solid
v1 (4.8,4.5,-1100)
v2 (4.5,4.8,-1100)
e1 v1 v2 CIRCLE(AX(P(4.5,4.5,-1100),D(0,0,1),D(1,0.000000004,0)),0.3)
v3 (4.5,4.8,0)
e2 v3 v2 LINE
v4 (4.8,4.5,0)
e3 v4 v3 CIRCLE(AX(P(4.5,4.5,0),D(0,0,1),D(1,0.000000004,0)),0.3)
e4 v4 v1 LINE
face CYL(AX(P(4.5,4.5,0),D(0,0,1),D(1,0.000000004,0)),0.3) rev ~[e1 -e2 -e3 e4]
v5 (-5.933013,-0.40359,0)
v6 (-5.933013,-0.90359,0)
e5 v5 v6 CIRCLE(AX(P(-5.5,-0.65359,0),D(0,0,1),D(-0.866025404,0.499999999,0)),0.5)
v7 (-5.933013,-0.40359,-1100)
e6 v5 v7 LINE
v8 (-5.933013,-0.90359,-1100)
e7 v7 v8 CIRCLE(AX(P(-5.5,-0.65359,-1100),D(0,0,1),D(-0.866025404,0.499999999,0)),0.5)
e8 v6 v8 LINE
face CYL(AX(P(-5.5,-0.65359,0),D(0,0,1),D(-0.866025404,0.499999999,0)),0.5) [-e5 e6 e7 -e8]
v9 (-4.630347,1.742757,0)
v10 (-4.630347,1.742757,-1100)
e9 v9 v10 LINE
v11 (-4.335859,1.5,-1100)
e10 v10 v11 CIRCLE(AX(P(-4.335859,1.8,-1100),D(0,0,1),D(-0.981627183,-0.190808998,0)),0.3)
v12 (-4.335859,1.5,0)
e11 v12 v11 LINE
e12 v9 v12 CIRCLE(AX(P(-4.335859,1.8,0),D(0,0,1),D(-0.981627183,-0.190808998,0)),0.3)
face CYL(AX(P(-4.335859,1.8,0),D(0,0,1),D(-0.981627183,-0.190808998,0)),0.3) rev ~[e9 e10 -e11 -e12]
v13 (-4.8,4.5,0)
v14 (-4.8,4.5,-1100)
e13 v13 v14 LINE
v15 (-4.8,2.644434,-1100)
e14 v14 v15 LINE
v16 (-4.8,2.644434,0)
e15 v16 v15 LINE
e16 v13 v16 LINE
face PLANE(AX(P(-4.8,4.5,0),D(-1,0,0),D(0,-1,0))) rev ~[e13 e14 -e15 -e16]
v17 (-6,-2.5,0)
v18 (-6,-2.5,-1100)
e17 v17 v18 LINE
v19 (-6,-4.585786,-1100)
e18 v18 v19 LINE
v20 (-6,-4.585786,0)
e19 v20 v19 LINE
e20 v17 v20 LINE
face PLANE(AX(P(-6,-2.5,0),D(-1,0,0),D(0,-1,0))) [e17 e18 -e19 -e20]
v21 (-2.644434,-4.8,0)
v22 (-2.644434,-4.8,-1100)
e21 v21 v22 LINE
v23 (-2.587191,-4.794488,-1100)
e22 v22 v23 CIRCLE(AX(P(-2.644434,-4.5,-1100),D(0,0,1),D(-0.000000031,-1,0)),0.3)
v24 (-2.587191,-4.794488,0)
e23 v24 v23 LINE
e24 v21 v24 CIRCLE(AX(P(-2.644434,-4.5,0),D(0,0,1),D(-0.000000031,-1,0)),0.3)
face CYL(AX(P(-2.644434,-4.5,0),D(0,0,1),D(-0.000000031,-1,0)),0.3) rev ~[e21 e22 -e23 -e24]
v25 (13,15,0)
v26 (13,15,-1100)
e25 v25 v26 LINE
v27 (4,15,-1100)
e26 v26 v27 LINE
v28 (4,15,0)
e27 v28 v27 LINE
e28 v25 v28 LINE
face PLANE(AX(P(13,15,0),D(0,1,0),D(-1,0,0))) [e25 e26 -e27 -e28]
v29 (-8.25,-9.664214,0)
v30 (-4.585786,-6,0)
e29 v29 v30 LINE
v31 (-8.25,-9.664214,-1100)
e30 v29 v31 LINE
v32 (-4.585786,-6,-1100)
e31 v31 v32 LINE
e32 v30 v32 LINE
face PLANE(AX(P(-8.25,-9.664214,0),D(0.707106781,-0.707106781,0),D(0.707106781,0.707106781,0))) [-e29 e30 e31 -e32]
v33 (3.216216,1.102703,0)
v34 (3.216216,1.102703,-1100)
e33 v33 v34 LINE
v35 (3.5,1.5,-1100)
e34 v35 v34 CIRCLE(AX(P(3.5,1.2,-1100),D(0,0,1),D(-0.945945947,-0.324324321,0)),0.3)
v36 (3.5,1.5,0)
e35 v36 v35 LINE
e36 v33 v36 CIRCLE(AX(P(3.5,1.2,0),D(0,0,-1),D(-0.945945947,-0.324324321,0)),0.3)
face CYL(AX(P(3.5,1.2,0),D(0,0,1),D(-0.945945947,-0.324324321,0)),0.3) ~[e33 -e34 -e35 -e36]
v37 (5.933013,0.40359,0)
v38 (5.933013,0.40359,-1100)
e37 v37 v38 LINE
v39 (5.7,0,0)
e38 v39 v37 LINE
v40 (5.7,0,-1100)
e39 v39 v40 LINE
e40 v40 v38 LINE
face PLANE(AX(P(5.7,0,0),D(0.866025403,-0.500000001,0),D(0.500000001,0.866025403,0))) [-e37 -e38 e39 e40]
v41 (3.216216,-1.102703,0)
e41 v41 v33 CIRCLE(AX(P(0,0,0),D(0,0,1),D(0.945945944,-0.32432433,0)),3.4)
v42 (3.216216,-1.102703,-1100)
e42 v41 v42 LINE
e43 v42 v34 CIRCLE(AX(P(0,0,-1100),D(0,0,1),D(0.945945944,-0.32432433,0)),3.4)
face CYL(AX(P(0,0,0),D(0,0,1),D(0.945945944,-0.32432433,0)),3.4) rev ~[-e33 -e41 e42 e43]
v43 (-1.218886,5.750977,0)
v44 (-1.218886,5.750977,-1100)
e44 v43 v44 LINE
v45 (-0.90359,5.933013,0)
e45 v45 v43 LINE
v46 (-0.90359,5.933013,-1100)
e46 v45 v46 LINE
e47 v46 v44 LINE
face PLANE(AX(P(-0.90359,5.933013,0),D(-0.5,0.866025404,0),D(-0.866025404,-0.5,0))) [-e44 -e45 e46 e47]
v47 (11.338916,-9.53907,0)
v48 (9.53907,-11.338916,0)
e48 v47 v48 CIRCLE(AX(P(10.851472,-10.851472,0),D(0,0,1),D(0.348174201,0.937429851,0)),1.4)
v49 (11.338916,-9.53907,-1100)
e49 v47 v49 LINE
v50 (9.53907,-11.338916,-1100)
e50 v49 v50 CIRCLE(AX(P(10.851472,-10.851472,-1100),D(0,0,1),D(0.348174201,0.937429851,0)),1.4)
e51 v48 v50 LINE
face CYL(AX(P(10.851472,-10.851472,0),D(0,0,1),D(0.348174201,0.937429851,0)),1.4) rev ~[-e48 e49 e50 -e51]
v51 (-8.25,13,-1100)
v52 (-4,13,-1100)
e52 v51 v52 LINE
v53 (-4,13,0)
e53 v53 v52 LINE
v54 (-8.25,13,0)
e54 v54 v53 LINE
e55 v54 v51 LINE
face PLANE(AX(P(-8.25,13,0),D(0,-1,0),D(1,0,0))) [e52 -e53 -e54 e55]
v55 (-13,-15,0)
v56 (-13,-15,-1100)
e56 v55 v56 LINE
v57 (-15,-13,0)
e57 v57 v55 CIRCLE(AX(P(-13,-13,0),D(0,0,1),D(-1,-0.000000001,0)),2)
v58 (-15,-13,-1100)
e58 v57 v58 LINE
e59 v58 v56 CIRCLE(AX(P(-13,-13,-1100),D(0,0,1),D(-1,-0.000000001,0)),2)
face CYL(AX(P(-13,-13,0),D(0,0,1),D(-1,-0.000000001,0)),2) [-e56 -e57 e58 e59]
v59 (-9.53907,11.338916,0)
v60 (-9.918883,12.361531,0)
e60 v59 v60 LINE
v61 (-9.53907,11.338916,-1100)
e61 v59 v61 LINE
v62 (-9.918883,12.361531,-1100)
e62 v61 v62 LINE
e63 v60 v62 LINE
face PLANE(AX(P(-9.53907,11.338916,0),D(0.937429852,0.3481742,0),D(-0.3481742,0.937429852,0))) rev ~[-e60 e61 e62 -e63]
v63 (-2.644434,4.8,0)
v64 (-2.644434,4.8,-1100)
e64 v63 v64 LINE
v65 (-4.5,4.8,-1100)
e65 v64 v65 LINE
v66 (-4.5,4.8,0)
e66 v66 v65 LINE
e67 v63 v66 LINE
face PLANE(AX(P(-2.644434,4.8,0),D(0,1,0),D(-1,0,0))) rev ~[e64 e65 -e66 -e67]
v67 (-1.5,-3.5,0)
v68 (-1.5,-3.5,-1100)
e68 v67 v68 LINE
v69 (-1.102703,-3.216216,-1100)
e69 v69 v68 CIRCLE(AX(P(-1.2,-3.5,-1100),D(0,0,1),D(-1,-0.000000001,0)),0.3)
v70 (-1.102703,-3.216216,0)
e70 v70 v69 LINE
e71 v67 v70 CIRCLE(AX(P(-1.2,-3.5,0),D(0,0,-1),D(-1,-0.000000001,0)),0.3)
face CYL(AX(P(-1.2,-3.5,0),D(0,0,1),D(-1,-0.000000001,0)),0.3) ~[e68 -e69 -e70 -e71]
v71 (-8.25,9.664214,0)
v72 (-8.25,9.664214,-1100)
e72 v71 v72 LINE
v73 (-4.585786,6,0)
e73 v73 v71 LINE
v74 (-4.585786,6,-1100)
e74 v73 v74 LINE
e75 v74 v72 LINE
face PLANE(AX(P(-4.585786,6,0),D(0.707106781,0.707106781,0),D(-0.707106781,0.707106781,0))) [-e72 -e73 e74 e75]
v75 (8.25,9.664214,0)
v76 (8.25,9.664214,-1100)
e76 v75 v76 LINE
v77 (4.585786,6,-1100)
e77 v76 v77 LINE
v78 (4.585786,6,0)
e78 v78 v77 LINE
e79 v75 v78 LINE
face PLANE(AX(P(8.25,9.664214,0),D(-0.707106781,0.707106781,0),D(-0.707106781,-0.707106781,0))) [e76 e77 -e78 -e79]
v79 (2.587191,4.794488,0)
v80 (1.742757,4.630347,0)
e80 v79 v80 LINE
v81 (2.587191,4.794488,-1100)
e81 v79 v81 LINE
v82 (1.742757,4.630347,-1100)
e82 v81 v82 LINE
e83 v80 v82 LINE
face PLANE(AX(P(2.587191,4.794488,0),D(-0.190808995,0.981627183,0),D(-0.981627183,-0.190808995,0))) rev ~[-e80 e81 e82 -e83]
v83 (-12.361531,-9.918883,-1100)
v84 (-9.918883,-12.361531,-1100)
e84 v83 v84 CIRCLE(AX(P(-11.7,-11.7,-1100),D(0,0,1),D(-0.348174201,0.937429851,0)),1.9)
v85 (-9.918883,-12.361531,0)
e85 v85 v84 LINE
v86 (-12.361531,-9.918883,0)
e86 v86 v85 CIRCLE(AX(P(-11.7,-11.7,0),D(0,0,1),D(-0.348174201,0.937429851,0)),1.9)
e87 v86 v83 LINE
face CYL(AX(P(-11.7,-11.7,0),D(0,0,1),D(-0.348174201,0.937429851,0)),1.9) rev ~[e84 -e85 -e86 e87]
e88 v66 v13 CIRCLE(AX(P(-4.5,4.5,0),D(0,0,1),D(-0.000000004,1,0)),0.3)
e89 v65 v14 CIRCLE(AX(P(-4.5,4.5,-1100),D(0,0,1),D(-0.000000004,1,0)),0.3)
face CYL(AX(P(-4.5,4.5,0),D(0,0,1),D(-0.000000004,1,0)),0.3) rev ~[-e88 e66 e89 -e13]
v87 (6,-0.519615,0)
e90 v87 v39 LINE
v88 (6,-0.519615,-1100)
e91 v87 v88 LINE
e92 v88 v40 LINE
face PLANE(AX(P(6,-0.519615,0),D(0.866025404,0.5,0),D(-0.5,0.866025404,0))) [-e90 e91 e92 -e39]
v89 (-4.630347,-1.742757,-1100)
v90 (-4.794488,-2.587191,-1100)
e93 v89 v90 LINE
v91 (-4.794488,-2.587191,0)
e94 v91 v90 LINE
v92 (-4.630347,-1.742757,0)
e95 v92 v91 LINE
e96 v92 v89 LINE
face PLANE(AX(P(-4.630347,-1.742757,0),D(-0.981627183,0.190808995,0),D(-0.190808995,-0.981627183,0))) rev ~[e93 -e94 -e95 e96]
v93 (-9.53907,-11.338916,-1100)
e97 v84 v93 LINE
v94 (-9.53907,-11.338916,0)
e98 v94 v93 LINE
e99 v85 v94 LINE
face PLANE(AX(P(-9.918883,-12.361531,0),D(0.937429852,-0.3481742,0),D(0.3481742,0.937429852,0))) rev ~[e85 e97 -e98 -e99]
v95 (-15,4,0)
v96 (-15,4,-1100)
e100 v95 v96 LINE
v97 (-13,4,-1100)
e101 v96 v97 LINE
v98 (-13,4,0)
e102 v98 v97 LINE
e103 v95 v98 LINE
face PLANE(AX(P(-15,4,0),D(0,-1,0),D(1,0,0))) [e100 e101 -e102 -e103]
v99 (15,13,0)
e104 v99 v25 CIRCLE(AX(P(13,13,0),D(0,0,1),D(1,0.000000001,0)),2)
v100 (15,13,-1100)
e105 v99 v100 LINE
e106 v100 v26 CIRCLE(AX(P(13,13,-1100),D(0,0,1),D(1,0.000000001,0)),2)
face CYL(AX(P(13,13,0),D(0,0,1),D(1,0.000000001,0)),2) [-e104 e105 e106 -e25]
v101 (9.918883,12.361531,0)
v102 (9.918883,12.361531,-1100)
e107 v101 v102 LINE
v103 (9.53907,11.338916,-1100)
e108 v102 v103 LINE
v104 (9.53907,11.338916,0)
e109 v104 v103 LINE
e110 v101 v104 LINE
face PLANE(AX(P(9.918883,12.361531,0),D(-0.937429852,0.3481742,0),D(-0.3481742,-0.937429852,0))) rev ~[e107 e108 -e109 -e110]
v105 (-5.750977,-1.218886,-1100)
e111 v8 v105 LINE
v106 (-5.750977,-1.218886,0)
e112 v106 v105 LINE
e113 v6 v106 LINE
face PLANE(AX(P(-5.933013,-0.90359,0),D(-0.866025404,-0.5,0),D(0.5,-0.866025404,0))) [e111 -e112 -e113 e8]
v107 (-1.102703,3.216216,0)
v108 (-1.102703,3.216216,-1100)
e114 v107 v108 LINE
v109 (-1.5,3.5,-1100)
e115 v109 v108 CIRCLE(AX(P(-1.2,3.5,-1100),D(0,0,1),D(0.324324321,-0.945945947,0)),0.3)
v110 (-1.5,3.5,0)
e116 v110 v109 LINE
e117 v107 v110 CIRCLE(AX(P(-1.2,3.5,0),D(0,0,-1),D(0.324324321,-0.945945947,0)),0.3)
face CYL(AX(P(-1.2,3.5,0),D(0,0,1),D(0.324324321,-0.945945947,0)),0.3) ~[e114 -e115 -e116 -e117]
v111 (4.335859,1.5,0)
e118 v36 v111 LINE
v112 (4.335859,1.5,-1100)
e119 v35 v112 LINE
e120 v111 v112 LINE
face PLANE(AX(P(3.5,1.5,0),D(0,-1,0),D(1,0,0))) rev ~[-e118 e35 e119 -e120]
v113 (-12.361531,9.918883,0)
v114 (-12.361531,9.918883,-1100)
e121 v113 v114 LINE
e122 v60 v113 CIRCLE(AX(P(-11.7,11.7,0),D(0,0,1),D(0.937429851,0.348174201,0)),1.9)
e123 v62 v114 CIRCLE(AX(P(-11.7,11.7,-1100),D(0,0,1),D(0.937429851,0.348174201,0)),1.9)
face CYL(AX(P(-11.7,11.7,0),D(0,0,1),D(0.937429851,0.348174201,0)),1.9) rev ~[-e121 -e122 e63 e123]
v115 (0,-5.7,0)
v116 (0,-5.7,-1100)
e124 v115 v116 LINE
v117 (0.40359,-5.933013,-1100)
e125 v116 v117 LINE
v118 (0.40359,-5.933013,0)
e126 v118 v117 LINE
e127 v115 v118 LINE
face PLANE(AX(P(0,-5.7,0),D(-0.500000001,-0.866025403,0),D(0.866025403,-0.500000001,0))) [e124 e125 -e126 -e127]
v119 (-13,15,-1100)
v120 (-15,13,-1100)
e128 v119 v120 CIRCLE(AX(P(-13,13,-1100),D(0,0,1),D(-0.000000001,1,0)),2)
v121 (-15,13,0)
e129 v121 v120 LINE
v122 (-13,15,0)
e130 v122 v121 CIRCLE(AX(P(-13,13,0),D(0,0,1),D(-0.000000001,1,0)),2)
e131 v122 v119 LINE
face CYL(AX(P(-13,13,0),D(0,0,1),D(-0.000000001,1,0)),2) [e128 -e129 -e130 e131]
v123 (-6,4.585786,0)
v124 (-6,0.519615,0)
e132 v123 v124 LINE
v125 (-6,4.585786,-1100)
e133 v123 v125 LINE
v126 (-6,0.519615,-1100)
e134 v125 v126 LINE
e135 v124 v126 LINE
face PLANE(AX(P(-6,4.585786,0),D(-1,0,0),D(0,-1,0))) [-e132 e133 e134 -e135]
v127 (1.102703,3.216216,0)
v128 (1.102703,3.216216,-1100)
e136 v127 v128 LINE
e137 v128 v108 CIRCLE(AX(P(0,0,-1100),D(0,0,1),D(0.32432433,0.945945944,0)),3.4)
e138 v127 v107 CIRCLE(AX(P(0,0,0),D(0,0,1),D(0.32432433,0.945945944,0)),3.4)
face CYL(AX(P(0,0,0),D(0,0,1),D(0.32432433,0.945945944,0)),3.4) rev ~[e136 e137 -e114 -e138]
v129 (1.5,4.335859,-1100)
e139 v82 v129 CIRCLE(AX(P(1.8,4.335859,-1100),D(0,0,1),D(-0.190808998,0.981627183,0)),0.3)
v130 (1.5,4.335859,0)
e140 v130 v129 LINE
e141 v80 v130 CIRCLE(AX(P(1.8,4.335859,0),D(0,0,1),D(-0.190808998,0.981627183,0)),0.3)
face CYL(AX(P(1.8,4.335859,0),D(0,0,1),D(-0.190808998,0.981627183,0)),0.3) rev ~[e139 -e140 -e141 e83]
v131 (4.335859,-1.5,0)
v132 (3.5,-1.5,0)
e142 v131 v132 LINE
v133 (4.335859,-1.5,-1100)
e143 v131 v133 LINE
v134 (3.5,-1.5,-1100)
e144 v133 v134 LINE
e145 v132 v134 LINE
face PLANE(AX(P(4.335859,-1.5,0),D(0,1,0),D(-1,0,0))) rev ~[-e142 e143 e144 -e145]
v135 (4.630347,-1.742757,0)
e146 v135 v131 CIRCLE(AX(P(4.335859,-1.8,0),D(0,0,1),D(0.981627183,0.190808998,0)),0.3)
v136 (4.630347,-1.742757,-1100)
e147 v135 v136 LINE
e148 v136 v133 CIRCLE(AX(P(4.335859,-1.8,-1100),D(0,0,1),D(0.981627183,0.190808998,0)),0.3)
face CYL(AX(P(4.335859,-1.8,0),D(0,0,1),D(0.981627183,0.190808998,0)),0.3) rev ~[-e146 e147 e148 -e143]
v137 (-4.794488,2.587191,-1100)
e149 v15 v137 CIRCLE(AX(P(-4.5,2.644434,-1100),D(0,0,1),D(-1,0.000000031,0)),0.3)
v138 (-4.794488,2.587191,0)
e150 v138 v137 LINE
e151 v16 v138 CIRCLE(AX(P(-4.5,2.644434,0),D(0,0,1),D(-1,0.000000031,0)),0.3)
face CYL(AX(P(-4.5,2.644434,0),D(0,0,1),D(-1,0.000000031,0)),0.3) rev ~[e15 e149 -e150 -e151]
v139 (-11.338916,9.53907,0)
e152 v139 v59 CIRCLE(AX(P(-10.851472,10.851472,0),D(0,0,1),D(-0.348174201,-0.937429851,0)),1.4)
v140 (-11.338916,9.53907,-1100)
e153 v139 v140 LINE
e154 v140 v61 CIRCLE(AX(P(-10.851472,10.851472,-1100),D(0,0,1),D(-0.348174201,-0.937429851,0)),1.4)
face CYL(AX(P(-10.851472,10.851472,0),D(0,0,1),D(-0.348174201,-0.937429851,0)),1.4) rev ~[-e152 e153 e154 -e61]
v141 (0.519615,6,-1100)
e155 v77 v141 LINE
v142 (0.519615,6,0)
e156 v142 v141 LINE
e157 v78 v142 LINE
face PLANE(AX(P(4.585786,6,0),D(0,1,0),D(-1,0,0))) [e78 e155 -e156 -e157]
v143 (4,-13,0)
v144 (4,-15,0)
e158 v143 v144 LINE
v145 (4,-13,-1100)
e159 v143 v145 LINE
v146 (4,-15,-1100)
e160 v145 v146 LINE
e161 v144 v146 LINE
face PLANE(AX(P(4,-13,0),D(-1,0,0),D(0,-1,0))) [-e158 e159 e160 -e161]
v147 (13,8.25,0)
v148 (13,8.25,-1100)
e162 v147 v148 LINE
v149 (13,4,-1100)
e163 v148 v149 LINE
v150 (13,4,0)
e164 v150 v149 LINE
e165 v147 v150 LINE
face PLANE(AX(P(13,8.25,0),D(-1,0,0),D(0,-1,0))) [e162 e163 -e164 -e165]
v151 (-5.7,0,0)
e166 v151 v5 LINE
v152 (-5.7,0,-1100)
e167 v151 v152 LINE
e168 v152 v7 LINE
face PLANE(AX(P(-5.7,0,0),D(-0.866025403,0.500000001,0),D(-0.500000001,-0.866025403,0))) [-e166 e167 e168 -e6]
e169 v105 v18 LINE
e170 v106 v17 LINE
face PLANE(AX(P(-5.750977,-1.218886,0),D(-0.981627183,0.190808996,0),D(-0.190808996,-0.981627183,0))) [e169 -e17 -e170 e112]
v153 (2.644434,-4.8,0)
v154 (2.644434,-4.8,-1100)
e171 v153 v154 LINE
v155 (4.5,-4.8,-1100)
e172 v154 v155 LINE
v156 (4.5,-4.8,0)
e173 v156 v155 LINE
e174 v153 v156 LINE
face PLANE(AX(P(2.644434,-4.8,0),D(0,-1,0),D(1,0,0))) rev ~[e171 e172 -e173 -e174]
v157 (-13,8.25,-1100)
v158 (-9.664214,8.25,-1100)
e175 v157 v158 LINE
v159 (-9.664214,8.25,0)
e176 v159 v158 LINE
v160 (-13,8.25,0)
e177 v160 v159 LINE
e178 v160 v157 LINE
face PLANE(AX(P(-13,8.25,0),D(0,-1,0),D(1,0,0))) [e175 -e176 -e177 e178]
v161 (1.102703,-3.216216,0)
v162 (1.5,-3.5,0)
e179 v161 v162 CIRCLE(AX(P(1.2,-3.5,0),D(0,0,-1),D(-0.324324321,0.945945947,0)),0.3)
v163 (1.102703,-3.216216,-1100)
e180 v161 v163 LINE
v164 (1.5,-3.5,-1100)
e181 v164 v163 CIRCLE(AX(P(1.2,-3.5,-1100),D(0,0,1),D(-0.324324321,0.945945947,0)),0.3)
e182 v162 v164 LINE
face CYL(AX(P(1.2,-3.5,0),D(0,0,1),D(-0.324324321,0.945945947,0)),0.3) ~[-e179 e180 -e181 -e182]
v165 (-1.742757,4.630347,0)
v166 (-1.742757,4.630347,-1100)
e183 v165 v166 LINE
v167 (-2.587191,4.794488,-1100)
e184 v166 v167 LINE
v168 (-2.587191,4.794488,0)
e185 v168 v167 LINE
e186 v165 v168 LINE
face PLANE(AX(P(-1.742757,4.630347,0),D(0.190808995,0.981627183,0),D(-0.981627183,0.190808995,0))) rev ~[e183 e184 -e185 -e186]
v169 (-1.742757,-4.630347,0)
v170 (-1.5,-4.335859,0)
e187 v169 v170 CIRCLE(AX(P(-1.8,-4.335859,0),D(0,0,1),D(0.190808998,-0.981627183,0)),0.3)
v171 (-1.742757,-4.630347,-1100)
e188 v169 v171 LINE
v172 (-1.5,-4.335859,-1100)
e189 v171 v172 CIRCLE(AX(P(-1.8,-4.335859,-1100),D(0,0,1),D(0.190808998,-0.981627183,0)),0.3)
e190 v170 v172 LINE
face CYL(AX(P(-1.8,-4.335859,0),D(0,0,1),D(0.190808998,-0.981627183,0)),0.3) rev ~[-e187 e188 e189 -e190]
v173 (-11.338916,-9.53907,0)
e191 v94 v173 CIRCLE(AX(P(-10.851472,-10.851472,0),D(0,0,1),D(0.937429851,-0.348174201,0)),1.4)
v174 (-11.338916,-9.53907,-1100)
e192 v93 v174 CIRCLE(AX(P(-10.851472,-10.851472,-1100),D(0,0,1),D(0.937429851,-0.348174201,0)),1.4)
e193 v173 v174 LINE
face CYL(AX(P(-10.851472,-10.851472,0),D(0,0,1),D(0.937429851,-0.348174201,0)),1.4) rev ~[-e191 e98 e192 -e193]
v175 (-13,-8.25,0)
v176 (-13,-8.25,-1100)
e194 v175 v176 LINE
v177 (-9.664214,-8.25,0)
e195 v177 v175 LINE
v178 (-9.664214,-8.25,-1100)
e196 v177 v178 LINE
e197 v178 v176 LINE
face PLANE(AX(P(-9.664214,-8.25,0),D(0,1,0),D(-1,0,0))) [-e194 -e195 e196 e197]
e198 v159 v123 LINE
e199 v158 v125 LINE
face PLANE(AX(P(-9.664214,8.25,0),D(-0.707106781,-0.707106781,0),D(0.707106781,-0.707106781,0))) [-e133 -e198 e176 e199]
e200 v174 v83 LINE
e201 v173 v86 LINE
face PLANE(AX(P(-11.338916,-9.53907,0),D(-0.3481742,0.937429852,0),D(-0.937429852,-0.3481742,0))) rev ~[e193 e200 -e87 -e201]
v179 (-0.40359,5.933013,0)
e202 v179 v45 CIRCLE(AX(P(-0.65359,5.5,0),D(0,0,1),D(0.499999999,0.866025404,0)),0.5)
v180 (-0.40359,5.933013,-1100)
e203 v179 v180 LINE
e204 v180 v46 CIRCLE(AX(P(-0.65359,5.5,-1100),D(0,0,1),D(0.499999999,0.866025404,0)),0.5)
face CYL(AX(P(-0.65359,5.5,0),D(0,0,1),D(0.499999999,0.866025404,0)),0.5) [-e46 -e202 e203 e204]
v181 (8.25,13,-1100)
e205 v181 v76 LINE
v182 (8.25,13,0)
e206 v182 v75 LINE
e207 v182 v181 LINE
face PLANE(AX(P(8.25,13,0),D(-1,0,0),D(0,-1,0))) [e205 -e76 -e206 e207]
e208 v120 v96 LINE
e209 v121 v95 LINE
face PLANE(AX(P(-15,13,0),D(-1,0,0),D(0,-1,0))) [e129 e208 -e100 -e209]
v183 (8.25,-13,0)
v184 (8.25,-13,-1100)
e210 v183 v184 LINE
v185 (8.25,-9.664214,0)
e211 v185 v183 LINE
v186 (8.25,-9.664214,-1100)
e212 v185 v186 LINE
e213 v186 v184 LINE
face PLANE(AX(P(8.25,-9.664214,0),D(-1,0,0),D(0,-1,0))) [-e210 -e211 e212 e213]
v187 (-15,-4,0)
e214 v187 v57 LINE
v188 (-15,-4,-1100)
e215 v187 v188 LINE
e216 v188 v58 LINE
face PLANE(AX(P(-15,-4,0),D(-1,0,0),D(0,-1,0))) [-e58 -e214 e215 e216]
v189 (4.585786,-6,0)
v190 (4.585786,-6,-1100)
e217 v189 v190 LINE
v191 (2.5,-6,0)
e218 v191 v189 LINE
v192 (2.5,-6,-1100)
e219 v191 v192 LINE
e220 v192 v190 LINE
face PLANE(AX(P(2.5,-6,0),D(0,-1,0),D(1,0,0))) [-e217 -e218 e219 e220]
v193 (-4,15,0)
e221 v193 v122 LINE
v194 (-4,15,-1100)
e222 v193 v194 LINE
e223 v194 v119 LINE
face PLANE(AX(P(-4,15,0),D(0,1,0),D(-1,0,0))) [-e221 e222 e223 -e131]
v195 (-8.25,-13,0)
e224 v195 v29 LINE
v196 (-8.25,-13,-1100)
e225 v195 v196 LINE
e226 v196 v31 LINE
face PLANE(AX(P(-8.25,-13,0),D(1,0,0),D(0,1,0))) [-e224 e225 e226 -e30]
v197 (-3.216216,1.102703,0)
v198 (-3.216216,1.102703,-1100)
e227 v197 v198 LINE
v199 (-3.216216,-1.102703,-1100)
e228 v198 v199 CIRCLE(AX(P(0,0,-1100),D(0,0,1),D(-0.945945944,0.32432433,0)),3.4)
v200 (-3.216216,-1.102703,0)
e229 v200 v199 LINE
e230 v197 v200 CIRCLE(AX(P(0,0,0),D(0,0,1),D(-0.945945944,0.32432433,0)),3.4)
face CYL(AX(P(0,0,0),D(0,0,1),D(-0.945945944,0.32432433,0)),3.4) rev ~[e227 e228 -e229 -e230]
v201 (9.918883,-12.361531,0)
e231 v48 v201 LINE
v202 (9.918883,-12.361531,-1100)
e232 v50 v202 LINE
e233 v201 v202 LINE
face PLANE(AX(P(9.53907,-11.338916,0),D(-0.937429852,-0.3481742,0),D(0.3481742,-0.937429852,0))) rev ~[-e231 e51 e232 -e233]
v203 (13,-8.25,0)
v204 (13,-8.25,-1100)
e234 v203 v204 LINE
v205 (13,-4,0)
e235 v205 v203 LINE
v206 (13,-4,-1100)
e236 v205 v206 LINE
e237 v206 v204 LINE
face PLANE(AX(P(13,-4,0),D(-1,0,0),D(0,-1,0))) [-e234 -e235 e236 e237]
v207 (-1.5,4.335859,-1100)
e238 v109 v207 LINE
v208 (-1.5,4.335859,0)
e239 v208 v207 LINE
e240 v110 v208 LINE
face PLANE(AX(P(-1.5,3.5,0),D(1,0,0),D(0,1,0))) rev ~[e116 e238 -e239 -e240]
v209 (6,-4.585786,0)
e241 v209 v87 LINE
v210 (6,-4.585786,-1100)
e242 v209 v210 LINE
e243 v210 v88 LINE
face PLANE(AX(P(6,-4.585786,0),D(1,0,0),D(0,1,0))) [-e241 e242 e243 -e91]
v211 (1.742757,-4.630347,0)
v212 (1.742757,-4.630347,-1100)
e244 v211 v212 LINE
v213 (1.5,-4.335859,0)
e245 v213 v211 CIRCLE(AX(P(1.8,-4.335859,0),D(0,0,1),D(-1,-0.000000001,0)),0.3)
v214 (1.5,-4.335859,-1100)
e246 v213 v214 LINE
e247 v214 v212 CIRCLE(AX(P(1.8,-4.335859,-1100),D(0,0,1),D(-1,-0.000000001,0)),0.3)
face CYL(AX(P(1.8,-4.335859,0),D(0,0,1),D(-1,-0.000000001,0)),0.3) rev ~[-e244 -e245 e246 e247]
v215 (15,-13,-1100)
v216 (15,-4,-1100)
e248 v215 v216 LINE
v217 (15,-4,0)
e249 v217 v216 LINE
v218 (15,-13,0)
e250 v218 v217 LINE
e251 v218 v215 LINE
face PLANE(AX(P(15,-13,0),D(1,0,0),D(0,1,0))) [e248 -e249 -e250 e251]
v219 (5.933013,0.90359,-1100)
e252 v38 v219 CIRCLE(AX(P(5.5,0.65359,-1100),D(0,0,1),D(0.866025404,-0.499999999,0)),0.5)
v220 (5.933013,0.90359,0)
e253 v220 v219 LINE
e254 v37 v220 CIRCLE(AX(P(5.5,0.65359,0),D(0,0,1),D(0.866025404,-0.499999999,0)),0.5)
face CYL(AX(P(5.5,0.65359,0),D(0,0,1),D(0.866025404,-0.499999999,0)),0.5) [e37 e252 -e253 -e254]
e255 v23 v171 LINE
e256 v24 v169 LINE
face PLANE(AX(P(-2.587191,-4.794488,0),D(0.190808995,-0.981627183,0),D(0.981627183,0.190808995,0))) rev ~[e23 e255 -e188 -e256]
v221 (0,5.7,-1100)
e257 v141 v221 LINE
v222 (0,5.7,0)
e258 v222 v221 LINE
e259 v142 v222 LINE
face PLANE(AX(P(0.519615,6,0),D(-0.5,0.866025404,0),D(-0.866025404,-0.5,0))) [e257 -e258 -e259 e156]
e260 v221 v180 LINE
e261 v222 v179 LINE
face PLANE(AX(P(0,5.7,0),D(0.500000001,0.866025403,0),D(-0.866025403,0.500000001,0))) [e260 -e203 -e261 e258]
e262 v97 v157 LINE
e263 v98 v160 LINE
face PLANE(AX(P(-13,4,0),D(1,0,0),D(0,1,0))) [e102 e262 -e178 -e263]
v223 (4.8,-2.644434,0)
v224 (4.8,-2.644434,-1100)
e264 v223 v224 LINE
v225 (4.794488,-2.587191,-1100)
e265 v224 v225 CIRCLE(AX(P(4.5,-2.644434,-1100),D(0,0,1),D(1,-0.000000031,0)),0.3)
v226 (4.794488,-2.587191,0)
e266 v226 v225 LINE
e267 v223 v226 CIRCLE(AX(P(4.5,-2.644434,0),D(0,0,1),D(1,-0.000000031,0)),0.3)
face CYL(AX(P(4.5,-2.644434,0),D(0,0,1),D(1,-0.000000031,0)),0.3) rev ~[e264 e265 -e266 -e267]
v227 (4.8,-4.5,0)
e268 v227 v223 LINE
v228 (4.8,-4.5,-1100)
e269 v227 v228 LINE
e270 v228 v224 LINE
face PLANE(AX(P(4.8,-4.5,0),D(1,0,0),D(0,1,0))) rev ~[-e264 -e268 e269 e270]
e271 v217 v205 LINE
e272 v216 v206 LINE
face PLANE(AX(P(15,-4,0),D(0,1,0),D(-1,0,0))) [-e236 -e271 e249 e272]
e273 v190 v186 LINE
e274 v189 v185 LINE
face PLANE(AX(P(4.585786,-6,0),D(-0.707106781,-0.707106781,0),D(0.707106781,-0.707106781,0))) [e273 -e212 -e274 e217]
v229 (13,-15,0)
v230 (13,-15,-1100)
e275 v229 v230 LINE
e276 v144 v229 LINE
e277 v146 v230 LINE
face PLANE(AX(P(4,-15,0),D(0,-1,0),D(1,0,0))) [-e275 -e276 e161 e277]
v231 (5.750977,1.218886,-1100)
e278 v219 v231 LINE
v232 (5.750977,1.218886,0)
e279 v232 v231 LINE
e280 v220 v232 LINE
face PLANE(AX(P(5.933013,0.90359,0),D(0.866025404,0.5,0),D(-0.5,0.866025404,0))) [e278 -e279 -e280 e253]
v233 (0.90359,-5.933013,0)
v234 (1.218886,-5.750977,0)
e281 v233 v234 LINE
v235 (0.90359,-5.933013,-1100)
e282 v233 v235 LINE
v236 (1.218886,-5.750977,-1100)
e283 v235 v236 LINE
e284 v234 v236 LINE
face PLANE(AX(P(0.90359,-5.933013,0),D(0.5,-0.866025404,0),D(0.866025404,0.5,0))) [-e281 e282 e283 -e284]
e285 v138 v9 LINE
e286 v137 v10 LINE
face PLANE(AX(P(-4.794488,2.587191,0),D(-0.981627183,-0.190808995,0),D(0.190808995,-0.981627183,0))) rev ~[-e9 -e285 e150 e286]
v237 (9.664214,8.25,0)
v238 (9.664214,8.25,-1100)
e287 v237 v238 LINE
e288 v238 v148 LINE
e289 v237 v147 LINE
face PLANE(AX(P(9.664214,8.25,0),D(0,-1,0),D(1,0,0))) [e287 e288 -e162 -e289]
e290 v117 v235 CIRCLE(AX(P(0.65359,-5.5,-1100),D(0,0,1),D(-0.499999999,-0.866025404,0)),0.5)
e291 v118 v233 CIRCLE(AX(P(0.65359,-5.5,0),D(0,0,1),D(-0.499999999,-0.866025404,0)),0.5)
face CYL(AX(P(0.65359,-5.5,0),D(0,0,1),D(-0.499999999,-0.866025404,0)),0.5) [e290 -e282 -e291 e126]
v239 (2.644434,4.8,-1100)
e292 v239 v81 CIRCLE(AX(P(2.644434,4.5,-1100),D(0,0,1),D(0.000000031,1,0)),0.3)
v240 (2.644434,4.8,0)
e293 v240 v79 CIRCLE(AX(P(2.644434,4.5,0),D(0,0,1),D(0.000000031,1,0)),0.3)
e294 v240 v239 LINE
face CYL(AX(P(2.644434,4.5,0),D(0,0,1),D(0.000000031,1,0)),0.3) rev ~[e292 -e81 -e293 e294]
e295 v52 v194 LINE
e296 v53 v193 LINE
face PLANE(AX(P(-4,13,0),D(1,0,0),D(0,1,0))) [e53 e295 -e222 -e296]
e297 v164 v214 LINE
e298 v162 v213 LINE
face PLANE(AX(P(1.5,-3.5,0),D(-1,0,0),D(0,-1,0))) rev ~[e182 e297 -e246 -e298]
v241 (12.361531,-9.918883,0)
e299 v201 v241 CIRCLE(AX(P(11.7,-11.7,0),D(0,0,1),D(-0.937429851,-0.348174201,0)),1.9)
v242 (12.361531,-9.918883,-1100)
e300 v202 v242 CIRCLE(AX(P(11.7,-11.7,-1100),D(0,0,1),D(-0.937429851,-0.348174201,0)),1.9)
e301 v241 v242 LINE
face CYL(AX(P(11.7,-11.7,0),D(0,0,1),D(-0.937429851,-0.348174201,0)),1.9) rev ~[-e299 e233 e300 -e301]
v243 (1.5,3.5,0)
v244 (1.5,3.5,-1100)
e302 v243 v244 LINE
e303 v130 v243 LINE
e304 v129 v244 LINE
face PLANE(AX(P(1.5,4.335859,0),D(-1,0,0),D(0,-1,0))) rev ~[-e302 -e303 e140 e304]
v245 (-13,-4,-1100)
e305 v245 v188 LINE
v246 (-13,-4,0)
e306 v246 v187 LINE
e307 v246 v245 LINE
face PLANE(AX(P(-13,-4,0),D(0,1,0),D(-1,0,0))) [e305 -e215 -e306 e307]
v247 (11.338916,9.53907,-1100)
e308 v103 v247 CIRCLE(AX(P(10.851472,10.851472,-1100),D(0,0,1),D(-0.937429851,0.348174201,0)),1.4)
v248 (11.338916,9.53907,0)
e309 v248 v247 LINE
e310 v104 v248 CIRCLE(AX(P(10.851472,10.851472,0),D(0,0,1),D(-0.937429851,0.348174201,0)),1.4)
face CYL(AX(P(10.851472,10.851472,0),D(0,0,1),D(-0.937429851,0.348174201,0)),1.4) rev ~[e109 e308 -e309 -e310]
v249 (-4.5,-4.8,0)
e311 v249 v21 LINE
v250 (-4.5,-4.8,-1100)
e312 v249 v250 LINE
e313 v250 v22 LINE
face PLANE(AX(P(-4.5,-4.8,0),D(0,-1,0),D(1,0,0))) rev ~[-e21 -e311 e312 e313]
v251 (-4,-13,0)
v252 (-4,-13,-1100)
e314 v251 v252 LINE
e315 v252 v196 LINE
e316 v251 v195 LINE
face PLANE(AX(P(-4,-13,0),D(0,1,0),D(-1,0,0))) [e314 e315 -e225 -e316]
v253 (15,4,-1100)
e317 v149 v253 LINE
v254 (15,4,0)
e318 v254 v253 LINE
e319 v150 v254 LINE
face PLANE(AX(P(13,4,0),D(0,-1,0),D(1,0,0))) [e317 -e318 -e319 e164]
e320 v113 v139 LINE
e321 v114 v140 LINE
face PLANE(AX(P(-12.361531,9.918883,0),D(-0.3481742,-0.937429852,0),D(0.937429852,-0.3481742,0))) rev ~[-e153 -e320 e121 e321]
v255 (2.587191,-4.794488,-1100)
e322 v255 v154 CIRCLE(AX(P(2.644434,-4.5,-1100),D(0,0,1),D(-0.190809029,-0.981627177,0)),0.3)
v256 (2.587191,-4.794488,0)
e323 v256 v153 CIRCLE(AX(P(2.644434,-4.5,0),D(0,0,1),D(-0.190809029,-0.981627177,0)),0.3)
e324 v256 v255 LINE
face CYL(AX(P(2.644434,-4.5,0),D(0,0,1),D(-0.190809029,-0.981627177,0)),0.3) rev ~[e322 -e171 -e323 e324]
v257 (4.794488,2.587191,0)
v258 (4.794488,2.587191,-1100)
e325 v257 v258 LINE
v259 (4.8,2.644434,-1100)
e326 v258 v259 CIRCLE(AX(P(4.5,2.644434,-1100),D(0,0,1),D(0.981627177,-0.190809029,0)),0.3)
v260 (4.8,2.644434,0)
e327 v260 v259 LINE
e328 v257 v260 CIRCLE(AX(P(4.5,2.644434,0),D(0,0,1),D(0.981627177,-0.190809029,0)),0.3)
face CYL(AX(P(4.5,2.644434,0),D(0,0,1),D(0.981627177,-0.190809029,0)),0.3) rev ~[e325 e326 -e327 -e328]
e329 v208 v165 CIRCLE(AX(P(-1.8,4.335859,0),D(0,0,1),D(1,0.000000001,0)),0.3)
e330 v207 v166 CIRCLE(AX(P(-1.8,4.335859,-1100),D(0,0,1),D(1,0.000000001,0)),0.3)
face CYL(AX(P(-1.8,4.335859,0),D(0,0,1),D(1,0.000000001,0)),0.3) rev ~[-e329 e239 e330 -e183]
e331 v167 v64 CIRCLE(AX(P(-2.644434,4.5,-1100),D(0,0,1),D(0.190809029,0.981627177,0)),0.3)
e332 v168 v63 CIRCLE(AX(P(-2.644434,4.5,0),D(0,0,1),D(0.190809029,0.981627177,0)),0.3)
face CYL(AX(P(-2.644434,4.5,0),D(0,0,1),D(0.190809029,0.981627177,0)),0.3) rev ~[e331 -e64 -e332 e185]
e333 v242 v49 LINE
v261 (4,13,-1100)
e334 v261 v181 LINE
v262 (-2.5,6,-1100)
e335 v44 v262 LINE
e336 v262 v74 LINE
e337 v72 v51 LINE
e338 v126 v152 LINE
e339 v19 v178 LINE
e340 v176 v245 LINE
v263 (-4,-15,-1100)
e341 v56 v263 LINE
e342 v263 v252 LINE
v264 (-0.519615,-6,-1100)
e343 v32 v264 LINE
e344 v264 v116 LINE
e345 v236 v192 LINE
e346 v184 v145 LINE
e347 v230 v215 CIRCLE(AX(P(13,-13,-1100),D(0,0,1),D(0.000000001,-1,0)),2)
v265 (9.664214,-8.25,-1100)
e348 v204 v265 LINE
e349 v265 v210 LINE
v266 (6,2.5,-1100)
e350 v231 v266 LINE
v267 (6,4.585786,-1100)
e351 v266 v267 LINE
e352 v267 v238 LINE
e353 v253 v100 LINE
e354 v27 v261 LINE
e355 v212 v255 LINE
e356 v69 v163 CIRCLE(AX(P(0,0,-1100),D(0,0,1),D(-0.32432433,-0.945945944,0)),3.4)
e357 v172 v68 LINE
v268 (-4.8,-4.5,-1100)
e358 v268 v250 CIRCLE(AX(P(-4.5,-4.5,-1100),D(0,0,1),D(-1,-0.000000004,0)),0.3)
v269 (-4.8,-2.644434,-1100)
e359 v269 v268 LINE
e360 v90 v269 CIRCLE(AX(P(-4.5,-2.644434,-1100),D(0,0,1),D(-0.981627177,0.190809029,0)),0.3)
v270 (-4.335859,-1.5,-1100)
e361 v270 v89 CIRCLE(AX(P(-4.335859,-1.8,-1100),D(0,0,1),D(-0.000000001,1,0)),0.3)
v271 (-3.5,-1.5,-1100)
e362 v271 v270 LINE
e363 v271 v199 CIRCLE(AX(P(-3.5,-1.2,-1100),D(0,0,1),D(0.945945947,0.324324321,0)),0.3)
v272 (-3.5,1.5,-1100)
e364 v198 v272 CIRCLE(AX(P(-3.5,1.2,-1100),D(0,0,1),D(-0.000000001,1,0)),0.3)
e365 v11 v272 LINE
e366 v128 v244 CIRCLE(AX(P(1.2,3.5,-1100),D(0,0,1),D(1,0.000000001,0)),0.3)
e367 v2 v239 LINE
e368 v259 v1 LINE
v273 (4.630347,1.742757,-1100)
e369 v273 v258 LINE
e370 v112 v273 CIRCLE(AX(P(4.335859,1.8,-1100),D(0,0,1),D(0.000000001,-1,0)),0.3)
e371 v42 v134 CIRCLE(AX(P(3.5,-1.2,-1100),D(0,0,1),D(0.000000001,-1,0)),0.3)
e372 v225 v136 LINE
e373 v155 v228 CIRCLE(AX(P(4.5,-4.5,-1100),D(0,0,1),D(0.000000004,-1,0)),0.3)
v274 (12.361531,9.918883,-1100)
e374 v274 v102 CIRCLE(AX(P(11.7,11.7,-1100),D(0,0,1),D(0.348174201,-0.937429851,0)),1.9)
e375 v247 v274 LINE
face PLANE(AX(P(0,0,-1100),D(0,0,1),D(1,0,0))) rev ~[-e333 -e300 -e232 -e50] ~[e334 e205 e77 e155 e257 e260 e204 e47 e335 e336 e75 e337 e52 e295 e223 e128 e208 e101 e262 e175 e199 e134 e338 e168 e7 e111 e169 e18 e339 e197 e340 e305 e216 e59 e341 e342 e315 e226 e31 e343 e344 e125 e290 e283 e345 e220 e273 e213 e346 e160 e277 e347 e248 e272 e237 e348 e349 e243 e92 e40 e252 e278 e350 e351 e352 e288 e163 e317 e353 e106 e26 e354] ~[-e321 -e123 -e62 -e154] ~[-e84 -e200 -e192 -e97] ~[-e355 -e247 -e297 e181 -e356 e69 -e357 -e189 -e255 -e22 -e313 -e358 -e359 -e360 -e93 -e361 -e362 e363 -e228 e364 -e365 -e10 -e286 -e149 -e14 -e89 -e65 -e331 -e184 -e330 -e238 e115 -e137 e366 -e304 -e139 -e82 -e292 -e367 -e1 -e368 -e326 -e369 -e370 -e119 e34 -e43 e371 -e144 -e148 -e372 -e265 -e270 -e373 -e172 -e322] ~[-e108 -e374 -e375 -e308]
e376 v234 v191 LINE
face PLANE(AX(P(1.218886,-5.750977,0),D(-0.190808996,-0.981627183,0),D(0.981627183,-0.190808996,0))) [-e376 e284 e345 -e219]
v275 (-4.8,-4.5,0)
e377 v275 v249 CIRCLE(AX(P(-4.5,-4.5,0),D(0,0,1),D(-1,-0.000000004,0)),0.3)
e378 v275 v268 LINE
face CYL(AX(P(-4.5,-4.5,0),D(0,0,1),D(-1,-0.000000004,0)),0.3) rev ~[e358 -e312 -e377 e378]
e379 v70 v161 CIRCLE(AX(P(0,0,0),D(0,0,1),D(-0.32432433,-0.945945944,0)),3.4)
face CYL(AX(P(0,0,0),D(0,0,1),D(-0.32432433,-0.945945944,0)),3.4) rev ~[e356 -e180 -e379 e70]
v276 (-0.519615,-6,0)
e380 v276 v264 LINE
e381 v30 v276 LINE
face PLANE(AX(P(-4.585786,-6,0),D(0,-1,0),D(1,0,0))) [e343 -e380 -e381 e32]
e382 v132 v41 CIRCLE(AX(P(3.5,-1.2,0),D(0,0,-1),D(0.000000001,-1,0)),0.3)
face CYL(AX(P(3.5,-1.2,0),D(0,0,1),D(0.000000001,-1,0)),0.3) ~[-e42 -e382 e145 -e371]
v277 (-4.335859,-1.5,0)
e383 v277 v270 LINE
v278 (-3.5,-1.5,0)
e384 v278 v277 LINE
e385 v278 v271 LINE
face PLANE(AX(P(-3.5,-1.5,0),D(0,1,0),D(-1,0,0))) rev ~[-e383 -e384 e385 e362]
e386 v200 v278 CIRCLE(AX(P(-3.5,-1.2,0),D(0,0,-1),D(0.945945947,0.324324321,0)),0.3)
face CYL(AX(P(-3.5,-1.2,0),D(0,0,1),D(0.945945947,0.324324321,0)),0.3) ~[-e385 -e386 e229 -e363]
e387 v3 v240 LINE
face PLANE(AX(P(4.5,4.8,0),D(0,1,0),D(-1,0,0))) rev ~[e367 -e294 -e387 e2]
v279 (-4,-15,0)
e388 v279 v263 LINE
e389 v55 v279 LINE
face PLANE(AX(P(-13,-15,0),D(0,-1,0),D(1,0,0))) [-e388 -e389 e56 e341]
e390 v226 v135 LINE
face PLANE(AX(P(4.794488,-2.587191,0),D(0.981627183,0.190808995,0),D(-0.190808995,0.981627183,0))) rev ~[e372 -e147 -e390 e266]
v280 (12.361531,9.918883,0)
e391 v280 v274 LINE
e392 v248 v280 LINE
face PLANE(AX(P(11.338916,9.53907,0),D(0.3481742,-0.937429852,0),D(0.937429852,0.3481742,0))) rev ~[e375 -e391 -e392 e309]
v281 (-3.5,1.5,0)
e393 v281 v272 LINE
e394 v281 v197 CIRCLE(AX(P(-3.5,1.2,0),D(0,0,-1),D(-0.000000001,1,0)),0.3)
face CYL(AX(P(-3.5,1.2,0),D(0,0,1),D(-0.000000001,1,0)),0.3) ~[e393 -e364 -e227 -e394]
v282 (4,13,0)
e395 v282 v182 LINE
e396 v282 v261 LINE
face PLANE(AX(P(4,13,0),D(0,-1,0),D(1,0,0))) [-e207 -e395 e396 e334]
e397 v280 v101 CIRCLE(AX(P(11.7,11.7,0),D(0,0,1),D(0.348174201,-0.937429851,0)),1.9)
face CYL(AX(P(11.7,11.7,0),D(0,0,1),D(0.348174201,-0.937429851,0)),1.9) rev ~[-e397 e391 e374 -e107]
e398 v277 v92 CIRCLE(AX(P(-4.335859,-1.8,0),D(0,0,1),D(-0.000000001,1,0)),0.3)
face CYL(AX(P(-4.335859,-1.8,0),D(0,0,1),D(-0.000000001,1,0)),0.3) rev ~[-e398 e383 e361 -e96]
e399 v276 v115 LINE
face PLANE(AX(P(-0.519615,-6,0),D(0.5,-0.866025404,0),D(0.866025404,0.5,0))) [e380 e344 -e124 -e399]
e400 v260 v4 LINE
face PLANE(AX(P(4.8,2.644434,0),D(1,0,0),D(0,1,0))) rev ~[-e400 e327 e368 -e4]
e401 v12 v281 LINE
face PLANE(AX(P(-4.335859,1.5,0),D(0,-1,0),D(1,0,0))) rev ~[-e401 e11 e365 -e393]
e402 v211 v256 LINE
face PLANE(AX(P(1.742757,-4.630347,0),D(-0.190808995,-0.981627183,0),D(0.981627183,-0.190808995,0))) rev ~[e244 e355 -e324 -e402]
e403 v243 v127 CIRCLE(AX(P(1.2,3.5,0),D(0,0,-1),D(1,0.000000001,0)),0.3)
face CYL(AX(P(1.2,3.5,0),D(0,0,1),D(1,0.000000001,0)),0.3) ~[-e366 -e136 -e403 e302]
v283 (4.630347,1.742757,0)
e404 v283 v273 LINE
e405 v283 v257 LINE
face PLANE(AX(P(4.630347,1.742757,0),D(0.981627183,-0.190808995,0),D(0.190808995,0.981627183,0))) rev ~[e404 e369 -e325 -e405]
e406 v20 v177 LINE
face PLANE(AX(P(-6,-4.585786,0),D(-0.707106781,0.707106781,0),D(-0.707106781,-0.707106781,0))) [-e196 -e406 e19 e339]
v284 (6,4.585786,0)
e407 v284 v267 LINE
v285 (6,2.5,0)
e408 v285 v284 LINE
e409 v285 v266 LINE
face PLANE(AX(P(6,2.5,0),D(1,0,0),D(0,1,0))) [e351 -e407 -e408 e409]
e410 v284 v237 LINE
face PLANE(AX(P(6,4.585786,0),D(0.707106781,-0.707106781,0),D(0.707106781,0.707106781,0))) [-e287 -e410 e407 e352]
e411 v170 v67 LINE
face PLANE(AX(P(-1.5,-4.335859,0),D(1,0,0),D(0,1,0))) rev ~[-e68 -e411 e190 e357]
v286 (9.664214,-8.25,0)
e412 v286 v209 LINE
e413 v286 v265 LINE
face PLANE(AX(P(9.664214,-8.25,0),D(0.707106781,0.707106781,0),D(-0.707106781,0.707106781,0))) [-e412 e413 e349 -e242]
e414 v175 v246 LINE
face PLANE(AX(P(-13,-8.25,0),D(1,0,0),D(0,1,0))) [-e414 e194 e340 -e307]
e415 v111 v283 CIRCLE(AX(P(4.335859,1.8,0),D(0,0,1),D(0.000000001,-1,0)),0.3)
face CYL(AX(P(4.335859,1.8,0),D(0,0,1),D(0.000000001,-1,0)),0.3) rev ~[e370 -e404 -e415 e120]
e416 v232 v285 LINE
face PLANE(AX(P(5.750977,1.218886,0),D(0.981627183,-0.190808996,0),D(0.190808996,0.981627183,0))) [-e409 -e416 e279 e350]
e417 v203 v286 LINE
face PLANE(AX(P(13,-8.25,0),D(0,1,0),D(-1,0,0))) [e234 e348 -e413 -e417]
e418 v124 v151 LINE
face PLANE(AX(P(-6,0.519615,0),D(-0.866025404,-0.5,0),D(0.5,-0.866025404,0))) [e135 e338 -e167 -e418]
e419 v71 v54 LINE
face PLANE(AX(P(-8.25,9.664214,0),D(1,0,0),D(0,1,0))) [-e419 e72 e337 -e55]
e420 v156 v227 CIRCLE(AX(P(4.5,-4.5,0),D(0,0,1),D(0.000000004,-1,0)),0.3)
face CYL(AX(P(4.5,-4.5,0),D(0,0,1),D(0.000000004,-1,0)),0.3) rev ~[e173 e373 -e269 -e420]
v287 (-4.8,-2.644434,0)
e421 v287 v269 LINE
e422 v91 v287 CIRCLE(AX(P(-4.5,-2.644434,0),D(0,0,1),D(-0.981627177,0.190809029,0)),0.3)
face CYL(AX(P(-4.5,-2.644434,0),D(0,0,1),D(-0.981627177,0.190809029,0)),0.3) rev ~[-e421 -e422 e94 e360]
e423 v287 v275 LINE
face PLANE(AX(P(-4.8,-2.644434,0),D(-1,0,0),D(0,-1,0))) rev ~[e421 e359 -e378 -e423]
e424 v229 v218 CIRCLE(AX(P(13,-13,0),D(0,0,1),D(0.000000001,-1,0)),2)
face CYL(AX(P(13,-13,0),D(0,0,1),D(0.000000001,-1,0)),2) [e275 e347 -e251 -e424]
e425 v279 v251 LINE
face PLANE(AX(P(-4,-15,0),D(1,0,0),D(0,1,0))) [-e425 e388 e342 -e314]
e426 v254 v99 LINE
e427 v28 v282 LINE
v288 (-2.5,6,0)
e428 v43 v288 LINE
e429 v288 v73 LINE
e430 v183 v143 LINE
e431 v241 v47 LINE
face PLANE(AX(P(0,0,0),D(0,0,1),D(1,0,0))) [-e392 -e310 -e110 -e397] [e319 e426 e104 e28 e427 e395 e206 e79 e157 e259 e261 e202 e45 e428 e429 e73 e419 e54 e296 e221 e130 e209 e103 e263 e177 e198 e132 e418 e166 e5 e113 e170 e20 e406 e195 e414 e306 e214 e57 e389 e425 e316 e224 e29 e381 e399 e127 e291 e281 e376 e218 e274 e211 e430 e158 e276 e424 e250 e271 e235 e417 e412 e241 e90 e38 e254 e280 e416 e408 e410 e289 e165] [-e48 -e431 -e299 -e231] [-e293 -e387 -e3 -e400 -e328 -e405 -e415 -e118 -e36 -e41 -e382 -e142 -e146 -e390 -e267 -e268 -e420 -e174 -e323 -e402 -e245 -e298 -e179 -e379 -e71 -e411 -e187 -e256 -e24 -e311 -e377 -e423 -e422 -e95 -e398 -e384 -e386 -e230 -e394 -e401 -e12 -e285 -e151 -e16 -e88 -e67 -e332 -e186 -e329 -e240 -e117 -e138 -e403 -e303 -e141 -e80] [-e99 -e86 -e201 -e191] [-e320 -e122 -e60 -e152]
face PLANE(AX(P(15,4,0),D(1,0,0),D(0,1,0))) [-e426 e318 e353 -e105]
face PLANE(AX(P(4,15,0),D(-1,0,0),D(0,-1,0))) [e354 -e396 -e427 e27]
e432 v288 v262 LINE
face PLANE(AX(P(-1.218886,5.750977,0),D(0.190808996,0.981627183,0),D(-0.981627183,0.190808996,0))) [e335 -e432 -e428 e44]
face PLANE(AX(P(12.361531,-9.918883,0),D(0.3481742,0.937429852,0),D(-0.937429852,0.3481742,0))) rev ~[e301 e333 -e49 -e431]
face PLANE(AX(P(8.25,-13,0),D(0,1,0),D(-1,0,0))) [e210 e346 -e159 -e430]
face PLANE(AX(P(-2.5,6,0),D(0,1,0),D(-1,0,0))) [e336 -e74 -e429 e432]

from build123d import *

# Parameters (mm, degrees)
BOSS_EXTRUDE1_DEPTH = 1100
CUT_EXTRUDE1_DEPTH  = 1101.20452644


with BuildPart() as part:
    # Sketch1 → Boss-Extrude1 (new body)
    with BuildSketch(Plane.XY):
        with BuildLine():
            Line((-15, 4), (-13, 4))
            Line((-13, 4), (-13, 8.25))
            Line((-13, 8.25), (-9.664213562, 8.25))
            Line((-9.664213562, 8.25), (-6, 4.585786438))
            Line((-6, 4.585786438), (-6, 0.519615242))
            Line((-6, 0.519615242), (-5.7, 0))
            Line((-5.7, 0), (-5.933012702, -0.403589838))
            ThreePointArc((-5.933012702, -0.403589838), (-6, -0.653589838), (-5.933012702, -0.903589838))
            Line((-5.933012702, -0.903589838), (-5.750976592, -1.218885629))
            Line((-5.750976592, -1.218885629), (-6, -2.5))
            Line((-6, -2.5), (-6, -4.585786438))
            Line((-6, -4.585786438), (-9.664213562, -8.25))
            Line((-9.664213562, -8.25), (-13, -8.25))
            Line((-13, -8.25), (-13, -4))
            Line((-13, -4), (-15, -4))
            Line((-15, -4), (-15, -13))
            ThreePointArc((-15, -13), (-14.414213562, -14.414213562), (-13, -15))
            Line((-13, -15), (-4, -15))
            Line((-4, -15), (-4, -13))
            Line((-4, -13), (-8.25, -13))
            Line((-8.25, -13), (-8.25, -9.664213562))
            Line((-8.25, -9.664213562), (-4.585786438, -6))
            Line((-4.585786438, -6), (-0.519615242, -6))
            Line((-0.519615242, -6), (0, -5.7))
            Line((0, -5.7), (0.403589838, -5.933012702))
            ThreePointArc((0.403589838, -5.933012702), (0.653589838, -6), (0.903589838, -5.933012702))
            Line((0.903589838, -5.933012702), (1.218885629, -5.750976592))
            Line((1.218885629, -5.750976592), (2.5, -6))
            Line((2.5, -6), (4.585786438, -6))
            Line((4.585786438, -6), (8.25, -9.664213562))
            Line((8.25, -9.664213562), (8.25, -13))
            Line((8.25, -13), (4, -13))
            Line((4, -13), (4, -15))
            Line((4, -15), (13, -15))
            ThreePointArc((13, -15), (14.414213562, -14.414213562), (15, -13))
            Line((15, -13), (15, -4))
            Line((15, -4), (13, -4))
            Line((13, -4), (13, -8.25))
            Line((13, -8.25), (9.664213562, -8.25))
            Line((9.664213562, -8.25), (6, -4.585786438))
            Line((6, -4.585786438), (6, -0.519615242))
            Line((6, -0.519615242), (5.7, 0))
            Line((5.7, 0), (5.933012702, 0.403589838))
            ThreePointArc((5.933012702, 0.403589838), (6, 0.653589838), (5.933012702, 0.903589838))
            Line((5.933012702, 0.903589838), (5.750976592, 1.218885629))
            Line((5.750976592, 1.218885629), (6, 2.5))
            Line((6, 2.5), (6, 4.585786438))
            Line((6, 4.585786438), (9.664213562, 8.25))
            Line((9.664213562, 8.25), (13, 8.25))
            Line((13, 8.25), (13, 4))
            Line((13, 4), (15, 4))
            Line((15, 4), (15, 13))
            ThreePointArc((15, 13), (14.414213562, 14.414213562), (13, 15))
            Line((13, 15), (4, 15))
            Line((4, 15), (4, 13))
            Line((4, 13), (8.25, 13))
            Line((8.25, 13), (8.25, 9.664213562))
            Line((8.25, 9.664213562), (4.585786438, 6))
            Line((4.585786438, 6), (0.519615242, 6))
            Line((0.519615242, 6), (0, 5.7))
            Line((0, 5.7), (-0.403589838, 5.933012702))
            ThreePointArc((-0.403589838, 5.933012702), (-0.653589838, 6), (-0.903589838, 5.933012702))
            Line((-0.903589838, 5.933012702), (-1.218885629, 5.750976592))
            Line((-1.218885629, 5.750976592), (-2.5, 6))
            Line((-2.5, 6), (-4.585786438, 6))
            Line((-4.585786438, 6), (-8.25, 9.664213562))
            Line((-8.25, 9.664213562), (-8.25, 13))
            Line((-8.25, 13), (-4, 13))
            Line((-4, 13), (-4, 15))
            Line((-4, 15), (-13, 15))
            ThreePointArc((-13, 15), (-14.414213562, 14.414213562), (-15, 13))
            Line((-15, 13), (-15, 4))
        make_face()
        with BuildLine():
            Line((11.338915743, 9.539070071), (12.361530981, 9.918883282))
            ThreePointArc((12.361530981, 9.918883282), (13.043502884, 13.043502884), (9.918883282, 12.361530981))
            Line((9.918883282, 12.361530981), (9.539070071, 11.338915743))
            ThreePointArc((9.539070071, 11.338915743), (9.861522369, 9.861522369), (11.338915743, 9.539070071))
        make_face(mode=Mode.SUBTRACT)
        with BuildLine():
            Line((9.539070071, -11.338915743), (9.918883282, -12.361530981))
            ThreePointArc((9.918883282, -12.361530981), (13.043502884, -13.043502884), (12.361530981, -9.918883282))
            Line((12.361530981, -9.918883282), (11.338915743, -9.539070071))
            ThreePointArc((11.338915743, -9.539070071), (9.861522369, -9.861522369), (9.539070071, -11.338915743))
        make_face(mode=Mode.SUBTRACT)
        with BuildLine():
            Line((-12.361530981, 9.918883282), (-11.338915743, 9.539070071))
            ThreePointArc((-11.338915743, 9.539070071), (-9.861522369, 9.861522369), (-9.539070071, 11.338915743))
            Line((-9.539070071, 11.338915743), (-9.918883282, 12.361530981))
            ThreePointArc((-9.918883282, 12.361530981), (-13.043502884, 13.043502884), (-12.361530981, 9.918883282))
        make_face(mode=Mode.SUBTRACT)
        with BuildLine():
            Line((-9.918883282, -12.361530981), (-9.539070071, -11.338915743))
            ThreePointArc((-9.539070071, -11.338915743), (-9.861522369, -9.861522369), (-11.338915743, -9.539070071))
            Line((-11.338915743, -9.539070071), (-12.361530981, -9.918883282))
            ThreePointArc((-12.361530981, -9.918883282), (-13.043502884, -13.043502884), (-9.918883282, -12.361530981))
        make_face(mode=Mode.SUBTRACT)
    extrude(amount=-BOSS_EXTRUDE1_DEPTH)

    # Sketch2 → Cut-Extrude1 (cut, through all)
    with BuildSketch(Plane.XY):
        with BuildLine():
            Line((-4.5, -4.8), (-2.644433572, -4.8))
            ThreePointArc((-2.644433572, -4.8), (-2.615679847, -4.79861886), (-2.587190874, -4.794488155))
            Line((-2.587190874, -4.794488155), (-1.742757301, -4.630346896))
            ThreePointArc((-1.742757301, -4.630346896), (-1.568512625, -4.526682207), (-1.5, -4.335858741))
            Line((-1.5, -4.335858741), (-1.5, -3.5))
            ThreePointArc((-1.5, -3.5), (-1.374371466, -3.255879964), (-1.10270272, -3.21621621))
            ThreePointArc((-1.10270272, -3.21621621), (-9e-09, -3.4), (1.102702703, -3.216216216))
            ThreePointArc((1.102702703, -3.216216216), (1.374371458, -3.255879959), (1.5, -3.5))
            Line((1.5, -3.5), (1.5, -4.335858741))
            ThreePointArc((1.5, -4.335858741), (1.568512625, -4.526682207), (1.742757301, -4.630346896))
            Line((1.742757301, -4.630346896), (2.587190874, -4.794488155))
            ThreePointArc((2.587190874, -4.794488155), (2.615679847, -4.79861886), (2.644433572, -4.8))
            Line((2.644433572, -4.8), (4.5, -4.8))
            ThreePointArc((4.5, -4.8), (4.712132034, -4.712132034), (4.8, -4.5))
            Line((4.8, -4.5), (4.8, -2.644433572))
            ThreePointArc((4.8, -2.644433572), (4.79861886, -2.615679847), (4.794488155, -2.587190874))
            Line((4.794488155, -2.587190874), (4.630346896, -1.742757301))
            ThreePointArc((4.630346896, -1.742757301), (4.526682207, -1.568512625), (4.335858741, -1.5))
            Line((4.335858741, -1.5), (3.5, -1.5))
            ThreePointArc((3.5, -1.5), (3.255879964, -1.374371466), (3.21621621, -1.10270272))
            ThreePointArc((3.21621621, -1.10270272), (3.4, -9e-09), (3.216216216, 1.102702703))
            ThreePointArc((3.216216216, 1.102702703), (3.255879959, 1.374371458), (3.5, 1.5))
            Line((3.5, 1.5), (4.335858741, 1.5))
            ThreePointArc((4.335858741, 1.5), (4.526682207, 1.568512625), (4.630346896, 1.742757301))
            Line((4.630346896, 1.742757301), (4.794488155, 2.587190874))
            ThreePointArc((4.794488155, 2.587190874), (4.79861886, 2.615679847), (4.8, 2.644433572))
            Line((4.8, 2.644433572), (4.8, 4.5))
            ThreePointArc((4.8, 4.5), (4.712132034, 4.712132034), (4.5, 4.8))
            Line((4.5, 4.8), (2.644433572, 4.8))
            ThreePointArc((2.644433572, 4.8), (2.615679847, 4.79861886), (2.587190874, 4.794488155))
            Line((2.587190874, 4.794488155), (1.742757301, 4.630346896))
            ThreePointArc((1.742757301, 4.630346896), (1.568512625, 4.526682207), (1.5, 4.335858741))
            Line((1.5, 4.335858741), (1.5, 3.5))
            ThreePointArc((1.5, 3.5), (1.374371466, 3.255879964), (1.10270272, 3.21621621))
            ThreePointArc((1.10270272, 3.21621621), (9e-09, 3.4), (-1.102702703, 3.216216216))
            ThreePointArc((-1.102702703, 3.216216216), (-1.374371458, 3.255879959), (-1.5, 3.5))
            Line((-1.5, 3.5), (-1.5, 4.335858741))
            ThreePointArc((-1.5, 4.335858741), (-1.568512625, 4.526682207), (-1.742757301, 4.630346896))
            Line((-1.742757301, 4.630346896), (-2.587190874, 4.794488155))
            ThreePointArc((-2.587190874, 4.794488155), (-2.615679847, 4.79861886), (-2.644433572, 4.8))
            Line((-2.644433572, 4.8), (-4.5, 4.8))
            ThreePointArc((-4.5, 4.8), (-4.712132034, 4.712132034), (-4.8, 4.5))
            Line((-4.8, 4.5), (-4.8, 2.644433572))
            ThreePointArc((-4.8, 2.644433572), (-4.79861886, 2.615679847), (-4.794488155, 2.587190874))
            Line((-4.794488155, 2.587190874), (-4.630346896, 1.742757301))
            ThreePointArc((-4.630346896, 1.742757301), (-4.526682207, 1.568512625), (-4.335858741, 1.5))
            Line((-4.335858741, 1.5), (-3.5, 1.5))
            ThreePointArc((-3.5, 1.5), (-3.255879964, 1.374371466), (-3.21621621, 1.10270272))
            ThreePointArc((-3.21621621, 1.10270272), (-3.4, 9e-09), (-3.216216216, -1.102702703))
            ThreePointArc((-3.216216216, -1.102702703), (-3.255879959, -1.374371458), (-3.5, -1.5))
            Line((-3.5, -1.5), (-4.335858741, -1.5))
            ThreePointArc((-4.335858741, -1.5), (-4.526682207, -1.568512625), (-4.630346896, -1.742757301))
            Line((-4.630346896, -1.742757301), (-4.794488155, -2.587190874))
            ThreePointArc((-4.794488155, -2.587190874), (-4.79861886, -2.615679847), (-4.8, -2.644433572))
            Line((-4.8, -2.644433572), (-4.8, -4.5))
            ThreePointArc((-4.8, -4.5), (-4.712132034, -4.712132034), (-4.5, -4.8))
        make_face()
    extrude(amount=-CUT_EXTRUDE1_DEPTH, mode=Mode.SUBTRACT)


solid = part.part
